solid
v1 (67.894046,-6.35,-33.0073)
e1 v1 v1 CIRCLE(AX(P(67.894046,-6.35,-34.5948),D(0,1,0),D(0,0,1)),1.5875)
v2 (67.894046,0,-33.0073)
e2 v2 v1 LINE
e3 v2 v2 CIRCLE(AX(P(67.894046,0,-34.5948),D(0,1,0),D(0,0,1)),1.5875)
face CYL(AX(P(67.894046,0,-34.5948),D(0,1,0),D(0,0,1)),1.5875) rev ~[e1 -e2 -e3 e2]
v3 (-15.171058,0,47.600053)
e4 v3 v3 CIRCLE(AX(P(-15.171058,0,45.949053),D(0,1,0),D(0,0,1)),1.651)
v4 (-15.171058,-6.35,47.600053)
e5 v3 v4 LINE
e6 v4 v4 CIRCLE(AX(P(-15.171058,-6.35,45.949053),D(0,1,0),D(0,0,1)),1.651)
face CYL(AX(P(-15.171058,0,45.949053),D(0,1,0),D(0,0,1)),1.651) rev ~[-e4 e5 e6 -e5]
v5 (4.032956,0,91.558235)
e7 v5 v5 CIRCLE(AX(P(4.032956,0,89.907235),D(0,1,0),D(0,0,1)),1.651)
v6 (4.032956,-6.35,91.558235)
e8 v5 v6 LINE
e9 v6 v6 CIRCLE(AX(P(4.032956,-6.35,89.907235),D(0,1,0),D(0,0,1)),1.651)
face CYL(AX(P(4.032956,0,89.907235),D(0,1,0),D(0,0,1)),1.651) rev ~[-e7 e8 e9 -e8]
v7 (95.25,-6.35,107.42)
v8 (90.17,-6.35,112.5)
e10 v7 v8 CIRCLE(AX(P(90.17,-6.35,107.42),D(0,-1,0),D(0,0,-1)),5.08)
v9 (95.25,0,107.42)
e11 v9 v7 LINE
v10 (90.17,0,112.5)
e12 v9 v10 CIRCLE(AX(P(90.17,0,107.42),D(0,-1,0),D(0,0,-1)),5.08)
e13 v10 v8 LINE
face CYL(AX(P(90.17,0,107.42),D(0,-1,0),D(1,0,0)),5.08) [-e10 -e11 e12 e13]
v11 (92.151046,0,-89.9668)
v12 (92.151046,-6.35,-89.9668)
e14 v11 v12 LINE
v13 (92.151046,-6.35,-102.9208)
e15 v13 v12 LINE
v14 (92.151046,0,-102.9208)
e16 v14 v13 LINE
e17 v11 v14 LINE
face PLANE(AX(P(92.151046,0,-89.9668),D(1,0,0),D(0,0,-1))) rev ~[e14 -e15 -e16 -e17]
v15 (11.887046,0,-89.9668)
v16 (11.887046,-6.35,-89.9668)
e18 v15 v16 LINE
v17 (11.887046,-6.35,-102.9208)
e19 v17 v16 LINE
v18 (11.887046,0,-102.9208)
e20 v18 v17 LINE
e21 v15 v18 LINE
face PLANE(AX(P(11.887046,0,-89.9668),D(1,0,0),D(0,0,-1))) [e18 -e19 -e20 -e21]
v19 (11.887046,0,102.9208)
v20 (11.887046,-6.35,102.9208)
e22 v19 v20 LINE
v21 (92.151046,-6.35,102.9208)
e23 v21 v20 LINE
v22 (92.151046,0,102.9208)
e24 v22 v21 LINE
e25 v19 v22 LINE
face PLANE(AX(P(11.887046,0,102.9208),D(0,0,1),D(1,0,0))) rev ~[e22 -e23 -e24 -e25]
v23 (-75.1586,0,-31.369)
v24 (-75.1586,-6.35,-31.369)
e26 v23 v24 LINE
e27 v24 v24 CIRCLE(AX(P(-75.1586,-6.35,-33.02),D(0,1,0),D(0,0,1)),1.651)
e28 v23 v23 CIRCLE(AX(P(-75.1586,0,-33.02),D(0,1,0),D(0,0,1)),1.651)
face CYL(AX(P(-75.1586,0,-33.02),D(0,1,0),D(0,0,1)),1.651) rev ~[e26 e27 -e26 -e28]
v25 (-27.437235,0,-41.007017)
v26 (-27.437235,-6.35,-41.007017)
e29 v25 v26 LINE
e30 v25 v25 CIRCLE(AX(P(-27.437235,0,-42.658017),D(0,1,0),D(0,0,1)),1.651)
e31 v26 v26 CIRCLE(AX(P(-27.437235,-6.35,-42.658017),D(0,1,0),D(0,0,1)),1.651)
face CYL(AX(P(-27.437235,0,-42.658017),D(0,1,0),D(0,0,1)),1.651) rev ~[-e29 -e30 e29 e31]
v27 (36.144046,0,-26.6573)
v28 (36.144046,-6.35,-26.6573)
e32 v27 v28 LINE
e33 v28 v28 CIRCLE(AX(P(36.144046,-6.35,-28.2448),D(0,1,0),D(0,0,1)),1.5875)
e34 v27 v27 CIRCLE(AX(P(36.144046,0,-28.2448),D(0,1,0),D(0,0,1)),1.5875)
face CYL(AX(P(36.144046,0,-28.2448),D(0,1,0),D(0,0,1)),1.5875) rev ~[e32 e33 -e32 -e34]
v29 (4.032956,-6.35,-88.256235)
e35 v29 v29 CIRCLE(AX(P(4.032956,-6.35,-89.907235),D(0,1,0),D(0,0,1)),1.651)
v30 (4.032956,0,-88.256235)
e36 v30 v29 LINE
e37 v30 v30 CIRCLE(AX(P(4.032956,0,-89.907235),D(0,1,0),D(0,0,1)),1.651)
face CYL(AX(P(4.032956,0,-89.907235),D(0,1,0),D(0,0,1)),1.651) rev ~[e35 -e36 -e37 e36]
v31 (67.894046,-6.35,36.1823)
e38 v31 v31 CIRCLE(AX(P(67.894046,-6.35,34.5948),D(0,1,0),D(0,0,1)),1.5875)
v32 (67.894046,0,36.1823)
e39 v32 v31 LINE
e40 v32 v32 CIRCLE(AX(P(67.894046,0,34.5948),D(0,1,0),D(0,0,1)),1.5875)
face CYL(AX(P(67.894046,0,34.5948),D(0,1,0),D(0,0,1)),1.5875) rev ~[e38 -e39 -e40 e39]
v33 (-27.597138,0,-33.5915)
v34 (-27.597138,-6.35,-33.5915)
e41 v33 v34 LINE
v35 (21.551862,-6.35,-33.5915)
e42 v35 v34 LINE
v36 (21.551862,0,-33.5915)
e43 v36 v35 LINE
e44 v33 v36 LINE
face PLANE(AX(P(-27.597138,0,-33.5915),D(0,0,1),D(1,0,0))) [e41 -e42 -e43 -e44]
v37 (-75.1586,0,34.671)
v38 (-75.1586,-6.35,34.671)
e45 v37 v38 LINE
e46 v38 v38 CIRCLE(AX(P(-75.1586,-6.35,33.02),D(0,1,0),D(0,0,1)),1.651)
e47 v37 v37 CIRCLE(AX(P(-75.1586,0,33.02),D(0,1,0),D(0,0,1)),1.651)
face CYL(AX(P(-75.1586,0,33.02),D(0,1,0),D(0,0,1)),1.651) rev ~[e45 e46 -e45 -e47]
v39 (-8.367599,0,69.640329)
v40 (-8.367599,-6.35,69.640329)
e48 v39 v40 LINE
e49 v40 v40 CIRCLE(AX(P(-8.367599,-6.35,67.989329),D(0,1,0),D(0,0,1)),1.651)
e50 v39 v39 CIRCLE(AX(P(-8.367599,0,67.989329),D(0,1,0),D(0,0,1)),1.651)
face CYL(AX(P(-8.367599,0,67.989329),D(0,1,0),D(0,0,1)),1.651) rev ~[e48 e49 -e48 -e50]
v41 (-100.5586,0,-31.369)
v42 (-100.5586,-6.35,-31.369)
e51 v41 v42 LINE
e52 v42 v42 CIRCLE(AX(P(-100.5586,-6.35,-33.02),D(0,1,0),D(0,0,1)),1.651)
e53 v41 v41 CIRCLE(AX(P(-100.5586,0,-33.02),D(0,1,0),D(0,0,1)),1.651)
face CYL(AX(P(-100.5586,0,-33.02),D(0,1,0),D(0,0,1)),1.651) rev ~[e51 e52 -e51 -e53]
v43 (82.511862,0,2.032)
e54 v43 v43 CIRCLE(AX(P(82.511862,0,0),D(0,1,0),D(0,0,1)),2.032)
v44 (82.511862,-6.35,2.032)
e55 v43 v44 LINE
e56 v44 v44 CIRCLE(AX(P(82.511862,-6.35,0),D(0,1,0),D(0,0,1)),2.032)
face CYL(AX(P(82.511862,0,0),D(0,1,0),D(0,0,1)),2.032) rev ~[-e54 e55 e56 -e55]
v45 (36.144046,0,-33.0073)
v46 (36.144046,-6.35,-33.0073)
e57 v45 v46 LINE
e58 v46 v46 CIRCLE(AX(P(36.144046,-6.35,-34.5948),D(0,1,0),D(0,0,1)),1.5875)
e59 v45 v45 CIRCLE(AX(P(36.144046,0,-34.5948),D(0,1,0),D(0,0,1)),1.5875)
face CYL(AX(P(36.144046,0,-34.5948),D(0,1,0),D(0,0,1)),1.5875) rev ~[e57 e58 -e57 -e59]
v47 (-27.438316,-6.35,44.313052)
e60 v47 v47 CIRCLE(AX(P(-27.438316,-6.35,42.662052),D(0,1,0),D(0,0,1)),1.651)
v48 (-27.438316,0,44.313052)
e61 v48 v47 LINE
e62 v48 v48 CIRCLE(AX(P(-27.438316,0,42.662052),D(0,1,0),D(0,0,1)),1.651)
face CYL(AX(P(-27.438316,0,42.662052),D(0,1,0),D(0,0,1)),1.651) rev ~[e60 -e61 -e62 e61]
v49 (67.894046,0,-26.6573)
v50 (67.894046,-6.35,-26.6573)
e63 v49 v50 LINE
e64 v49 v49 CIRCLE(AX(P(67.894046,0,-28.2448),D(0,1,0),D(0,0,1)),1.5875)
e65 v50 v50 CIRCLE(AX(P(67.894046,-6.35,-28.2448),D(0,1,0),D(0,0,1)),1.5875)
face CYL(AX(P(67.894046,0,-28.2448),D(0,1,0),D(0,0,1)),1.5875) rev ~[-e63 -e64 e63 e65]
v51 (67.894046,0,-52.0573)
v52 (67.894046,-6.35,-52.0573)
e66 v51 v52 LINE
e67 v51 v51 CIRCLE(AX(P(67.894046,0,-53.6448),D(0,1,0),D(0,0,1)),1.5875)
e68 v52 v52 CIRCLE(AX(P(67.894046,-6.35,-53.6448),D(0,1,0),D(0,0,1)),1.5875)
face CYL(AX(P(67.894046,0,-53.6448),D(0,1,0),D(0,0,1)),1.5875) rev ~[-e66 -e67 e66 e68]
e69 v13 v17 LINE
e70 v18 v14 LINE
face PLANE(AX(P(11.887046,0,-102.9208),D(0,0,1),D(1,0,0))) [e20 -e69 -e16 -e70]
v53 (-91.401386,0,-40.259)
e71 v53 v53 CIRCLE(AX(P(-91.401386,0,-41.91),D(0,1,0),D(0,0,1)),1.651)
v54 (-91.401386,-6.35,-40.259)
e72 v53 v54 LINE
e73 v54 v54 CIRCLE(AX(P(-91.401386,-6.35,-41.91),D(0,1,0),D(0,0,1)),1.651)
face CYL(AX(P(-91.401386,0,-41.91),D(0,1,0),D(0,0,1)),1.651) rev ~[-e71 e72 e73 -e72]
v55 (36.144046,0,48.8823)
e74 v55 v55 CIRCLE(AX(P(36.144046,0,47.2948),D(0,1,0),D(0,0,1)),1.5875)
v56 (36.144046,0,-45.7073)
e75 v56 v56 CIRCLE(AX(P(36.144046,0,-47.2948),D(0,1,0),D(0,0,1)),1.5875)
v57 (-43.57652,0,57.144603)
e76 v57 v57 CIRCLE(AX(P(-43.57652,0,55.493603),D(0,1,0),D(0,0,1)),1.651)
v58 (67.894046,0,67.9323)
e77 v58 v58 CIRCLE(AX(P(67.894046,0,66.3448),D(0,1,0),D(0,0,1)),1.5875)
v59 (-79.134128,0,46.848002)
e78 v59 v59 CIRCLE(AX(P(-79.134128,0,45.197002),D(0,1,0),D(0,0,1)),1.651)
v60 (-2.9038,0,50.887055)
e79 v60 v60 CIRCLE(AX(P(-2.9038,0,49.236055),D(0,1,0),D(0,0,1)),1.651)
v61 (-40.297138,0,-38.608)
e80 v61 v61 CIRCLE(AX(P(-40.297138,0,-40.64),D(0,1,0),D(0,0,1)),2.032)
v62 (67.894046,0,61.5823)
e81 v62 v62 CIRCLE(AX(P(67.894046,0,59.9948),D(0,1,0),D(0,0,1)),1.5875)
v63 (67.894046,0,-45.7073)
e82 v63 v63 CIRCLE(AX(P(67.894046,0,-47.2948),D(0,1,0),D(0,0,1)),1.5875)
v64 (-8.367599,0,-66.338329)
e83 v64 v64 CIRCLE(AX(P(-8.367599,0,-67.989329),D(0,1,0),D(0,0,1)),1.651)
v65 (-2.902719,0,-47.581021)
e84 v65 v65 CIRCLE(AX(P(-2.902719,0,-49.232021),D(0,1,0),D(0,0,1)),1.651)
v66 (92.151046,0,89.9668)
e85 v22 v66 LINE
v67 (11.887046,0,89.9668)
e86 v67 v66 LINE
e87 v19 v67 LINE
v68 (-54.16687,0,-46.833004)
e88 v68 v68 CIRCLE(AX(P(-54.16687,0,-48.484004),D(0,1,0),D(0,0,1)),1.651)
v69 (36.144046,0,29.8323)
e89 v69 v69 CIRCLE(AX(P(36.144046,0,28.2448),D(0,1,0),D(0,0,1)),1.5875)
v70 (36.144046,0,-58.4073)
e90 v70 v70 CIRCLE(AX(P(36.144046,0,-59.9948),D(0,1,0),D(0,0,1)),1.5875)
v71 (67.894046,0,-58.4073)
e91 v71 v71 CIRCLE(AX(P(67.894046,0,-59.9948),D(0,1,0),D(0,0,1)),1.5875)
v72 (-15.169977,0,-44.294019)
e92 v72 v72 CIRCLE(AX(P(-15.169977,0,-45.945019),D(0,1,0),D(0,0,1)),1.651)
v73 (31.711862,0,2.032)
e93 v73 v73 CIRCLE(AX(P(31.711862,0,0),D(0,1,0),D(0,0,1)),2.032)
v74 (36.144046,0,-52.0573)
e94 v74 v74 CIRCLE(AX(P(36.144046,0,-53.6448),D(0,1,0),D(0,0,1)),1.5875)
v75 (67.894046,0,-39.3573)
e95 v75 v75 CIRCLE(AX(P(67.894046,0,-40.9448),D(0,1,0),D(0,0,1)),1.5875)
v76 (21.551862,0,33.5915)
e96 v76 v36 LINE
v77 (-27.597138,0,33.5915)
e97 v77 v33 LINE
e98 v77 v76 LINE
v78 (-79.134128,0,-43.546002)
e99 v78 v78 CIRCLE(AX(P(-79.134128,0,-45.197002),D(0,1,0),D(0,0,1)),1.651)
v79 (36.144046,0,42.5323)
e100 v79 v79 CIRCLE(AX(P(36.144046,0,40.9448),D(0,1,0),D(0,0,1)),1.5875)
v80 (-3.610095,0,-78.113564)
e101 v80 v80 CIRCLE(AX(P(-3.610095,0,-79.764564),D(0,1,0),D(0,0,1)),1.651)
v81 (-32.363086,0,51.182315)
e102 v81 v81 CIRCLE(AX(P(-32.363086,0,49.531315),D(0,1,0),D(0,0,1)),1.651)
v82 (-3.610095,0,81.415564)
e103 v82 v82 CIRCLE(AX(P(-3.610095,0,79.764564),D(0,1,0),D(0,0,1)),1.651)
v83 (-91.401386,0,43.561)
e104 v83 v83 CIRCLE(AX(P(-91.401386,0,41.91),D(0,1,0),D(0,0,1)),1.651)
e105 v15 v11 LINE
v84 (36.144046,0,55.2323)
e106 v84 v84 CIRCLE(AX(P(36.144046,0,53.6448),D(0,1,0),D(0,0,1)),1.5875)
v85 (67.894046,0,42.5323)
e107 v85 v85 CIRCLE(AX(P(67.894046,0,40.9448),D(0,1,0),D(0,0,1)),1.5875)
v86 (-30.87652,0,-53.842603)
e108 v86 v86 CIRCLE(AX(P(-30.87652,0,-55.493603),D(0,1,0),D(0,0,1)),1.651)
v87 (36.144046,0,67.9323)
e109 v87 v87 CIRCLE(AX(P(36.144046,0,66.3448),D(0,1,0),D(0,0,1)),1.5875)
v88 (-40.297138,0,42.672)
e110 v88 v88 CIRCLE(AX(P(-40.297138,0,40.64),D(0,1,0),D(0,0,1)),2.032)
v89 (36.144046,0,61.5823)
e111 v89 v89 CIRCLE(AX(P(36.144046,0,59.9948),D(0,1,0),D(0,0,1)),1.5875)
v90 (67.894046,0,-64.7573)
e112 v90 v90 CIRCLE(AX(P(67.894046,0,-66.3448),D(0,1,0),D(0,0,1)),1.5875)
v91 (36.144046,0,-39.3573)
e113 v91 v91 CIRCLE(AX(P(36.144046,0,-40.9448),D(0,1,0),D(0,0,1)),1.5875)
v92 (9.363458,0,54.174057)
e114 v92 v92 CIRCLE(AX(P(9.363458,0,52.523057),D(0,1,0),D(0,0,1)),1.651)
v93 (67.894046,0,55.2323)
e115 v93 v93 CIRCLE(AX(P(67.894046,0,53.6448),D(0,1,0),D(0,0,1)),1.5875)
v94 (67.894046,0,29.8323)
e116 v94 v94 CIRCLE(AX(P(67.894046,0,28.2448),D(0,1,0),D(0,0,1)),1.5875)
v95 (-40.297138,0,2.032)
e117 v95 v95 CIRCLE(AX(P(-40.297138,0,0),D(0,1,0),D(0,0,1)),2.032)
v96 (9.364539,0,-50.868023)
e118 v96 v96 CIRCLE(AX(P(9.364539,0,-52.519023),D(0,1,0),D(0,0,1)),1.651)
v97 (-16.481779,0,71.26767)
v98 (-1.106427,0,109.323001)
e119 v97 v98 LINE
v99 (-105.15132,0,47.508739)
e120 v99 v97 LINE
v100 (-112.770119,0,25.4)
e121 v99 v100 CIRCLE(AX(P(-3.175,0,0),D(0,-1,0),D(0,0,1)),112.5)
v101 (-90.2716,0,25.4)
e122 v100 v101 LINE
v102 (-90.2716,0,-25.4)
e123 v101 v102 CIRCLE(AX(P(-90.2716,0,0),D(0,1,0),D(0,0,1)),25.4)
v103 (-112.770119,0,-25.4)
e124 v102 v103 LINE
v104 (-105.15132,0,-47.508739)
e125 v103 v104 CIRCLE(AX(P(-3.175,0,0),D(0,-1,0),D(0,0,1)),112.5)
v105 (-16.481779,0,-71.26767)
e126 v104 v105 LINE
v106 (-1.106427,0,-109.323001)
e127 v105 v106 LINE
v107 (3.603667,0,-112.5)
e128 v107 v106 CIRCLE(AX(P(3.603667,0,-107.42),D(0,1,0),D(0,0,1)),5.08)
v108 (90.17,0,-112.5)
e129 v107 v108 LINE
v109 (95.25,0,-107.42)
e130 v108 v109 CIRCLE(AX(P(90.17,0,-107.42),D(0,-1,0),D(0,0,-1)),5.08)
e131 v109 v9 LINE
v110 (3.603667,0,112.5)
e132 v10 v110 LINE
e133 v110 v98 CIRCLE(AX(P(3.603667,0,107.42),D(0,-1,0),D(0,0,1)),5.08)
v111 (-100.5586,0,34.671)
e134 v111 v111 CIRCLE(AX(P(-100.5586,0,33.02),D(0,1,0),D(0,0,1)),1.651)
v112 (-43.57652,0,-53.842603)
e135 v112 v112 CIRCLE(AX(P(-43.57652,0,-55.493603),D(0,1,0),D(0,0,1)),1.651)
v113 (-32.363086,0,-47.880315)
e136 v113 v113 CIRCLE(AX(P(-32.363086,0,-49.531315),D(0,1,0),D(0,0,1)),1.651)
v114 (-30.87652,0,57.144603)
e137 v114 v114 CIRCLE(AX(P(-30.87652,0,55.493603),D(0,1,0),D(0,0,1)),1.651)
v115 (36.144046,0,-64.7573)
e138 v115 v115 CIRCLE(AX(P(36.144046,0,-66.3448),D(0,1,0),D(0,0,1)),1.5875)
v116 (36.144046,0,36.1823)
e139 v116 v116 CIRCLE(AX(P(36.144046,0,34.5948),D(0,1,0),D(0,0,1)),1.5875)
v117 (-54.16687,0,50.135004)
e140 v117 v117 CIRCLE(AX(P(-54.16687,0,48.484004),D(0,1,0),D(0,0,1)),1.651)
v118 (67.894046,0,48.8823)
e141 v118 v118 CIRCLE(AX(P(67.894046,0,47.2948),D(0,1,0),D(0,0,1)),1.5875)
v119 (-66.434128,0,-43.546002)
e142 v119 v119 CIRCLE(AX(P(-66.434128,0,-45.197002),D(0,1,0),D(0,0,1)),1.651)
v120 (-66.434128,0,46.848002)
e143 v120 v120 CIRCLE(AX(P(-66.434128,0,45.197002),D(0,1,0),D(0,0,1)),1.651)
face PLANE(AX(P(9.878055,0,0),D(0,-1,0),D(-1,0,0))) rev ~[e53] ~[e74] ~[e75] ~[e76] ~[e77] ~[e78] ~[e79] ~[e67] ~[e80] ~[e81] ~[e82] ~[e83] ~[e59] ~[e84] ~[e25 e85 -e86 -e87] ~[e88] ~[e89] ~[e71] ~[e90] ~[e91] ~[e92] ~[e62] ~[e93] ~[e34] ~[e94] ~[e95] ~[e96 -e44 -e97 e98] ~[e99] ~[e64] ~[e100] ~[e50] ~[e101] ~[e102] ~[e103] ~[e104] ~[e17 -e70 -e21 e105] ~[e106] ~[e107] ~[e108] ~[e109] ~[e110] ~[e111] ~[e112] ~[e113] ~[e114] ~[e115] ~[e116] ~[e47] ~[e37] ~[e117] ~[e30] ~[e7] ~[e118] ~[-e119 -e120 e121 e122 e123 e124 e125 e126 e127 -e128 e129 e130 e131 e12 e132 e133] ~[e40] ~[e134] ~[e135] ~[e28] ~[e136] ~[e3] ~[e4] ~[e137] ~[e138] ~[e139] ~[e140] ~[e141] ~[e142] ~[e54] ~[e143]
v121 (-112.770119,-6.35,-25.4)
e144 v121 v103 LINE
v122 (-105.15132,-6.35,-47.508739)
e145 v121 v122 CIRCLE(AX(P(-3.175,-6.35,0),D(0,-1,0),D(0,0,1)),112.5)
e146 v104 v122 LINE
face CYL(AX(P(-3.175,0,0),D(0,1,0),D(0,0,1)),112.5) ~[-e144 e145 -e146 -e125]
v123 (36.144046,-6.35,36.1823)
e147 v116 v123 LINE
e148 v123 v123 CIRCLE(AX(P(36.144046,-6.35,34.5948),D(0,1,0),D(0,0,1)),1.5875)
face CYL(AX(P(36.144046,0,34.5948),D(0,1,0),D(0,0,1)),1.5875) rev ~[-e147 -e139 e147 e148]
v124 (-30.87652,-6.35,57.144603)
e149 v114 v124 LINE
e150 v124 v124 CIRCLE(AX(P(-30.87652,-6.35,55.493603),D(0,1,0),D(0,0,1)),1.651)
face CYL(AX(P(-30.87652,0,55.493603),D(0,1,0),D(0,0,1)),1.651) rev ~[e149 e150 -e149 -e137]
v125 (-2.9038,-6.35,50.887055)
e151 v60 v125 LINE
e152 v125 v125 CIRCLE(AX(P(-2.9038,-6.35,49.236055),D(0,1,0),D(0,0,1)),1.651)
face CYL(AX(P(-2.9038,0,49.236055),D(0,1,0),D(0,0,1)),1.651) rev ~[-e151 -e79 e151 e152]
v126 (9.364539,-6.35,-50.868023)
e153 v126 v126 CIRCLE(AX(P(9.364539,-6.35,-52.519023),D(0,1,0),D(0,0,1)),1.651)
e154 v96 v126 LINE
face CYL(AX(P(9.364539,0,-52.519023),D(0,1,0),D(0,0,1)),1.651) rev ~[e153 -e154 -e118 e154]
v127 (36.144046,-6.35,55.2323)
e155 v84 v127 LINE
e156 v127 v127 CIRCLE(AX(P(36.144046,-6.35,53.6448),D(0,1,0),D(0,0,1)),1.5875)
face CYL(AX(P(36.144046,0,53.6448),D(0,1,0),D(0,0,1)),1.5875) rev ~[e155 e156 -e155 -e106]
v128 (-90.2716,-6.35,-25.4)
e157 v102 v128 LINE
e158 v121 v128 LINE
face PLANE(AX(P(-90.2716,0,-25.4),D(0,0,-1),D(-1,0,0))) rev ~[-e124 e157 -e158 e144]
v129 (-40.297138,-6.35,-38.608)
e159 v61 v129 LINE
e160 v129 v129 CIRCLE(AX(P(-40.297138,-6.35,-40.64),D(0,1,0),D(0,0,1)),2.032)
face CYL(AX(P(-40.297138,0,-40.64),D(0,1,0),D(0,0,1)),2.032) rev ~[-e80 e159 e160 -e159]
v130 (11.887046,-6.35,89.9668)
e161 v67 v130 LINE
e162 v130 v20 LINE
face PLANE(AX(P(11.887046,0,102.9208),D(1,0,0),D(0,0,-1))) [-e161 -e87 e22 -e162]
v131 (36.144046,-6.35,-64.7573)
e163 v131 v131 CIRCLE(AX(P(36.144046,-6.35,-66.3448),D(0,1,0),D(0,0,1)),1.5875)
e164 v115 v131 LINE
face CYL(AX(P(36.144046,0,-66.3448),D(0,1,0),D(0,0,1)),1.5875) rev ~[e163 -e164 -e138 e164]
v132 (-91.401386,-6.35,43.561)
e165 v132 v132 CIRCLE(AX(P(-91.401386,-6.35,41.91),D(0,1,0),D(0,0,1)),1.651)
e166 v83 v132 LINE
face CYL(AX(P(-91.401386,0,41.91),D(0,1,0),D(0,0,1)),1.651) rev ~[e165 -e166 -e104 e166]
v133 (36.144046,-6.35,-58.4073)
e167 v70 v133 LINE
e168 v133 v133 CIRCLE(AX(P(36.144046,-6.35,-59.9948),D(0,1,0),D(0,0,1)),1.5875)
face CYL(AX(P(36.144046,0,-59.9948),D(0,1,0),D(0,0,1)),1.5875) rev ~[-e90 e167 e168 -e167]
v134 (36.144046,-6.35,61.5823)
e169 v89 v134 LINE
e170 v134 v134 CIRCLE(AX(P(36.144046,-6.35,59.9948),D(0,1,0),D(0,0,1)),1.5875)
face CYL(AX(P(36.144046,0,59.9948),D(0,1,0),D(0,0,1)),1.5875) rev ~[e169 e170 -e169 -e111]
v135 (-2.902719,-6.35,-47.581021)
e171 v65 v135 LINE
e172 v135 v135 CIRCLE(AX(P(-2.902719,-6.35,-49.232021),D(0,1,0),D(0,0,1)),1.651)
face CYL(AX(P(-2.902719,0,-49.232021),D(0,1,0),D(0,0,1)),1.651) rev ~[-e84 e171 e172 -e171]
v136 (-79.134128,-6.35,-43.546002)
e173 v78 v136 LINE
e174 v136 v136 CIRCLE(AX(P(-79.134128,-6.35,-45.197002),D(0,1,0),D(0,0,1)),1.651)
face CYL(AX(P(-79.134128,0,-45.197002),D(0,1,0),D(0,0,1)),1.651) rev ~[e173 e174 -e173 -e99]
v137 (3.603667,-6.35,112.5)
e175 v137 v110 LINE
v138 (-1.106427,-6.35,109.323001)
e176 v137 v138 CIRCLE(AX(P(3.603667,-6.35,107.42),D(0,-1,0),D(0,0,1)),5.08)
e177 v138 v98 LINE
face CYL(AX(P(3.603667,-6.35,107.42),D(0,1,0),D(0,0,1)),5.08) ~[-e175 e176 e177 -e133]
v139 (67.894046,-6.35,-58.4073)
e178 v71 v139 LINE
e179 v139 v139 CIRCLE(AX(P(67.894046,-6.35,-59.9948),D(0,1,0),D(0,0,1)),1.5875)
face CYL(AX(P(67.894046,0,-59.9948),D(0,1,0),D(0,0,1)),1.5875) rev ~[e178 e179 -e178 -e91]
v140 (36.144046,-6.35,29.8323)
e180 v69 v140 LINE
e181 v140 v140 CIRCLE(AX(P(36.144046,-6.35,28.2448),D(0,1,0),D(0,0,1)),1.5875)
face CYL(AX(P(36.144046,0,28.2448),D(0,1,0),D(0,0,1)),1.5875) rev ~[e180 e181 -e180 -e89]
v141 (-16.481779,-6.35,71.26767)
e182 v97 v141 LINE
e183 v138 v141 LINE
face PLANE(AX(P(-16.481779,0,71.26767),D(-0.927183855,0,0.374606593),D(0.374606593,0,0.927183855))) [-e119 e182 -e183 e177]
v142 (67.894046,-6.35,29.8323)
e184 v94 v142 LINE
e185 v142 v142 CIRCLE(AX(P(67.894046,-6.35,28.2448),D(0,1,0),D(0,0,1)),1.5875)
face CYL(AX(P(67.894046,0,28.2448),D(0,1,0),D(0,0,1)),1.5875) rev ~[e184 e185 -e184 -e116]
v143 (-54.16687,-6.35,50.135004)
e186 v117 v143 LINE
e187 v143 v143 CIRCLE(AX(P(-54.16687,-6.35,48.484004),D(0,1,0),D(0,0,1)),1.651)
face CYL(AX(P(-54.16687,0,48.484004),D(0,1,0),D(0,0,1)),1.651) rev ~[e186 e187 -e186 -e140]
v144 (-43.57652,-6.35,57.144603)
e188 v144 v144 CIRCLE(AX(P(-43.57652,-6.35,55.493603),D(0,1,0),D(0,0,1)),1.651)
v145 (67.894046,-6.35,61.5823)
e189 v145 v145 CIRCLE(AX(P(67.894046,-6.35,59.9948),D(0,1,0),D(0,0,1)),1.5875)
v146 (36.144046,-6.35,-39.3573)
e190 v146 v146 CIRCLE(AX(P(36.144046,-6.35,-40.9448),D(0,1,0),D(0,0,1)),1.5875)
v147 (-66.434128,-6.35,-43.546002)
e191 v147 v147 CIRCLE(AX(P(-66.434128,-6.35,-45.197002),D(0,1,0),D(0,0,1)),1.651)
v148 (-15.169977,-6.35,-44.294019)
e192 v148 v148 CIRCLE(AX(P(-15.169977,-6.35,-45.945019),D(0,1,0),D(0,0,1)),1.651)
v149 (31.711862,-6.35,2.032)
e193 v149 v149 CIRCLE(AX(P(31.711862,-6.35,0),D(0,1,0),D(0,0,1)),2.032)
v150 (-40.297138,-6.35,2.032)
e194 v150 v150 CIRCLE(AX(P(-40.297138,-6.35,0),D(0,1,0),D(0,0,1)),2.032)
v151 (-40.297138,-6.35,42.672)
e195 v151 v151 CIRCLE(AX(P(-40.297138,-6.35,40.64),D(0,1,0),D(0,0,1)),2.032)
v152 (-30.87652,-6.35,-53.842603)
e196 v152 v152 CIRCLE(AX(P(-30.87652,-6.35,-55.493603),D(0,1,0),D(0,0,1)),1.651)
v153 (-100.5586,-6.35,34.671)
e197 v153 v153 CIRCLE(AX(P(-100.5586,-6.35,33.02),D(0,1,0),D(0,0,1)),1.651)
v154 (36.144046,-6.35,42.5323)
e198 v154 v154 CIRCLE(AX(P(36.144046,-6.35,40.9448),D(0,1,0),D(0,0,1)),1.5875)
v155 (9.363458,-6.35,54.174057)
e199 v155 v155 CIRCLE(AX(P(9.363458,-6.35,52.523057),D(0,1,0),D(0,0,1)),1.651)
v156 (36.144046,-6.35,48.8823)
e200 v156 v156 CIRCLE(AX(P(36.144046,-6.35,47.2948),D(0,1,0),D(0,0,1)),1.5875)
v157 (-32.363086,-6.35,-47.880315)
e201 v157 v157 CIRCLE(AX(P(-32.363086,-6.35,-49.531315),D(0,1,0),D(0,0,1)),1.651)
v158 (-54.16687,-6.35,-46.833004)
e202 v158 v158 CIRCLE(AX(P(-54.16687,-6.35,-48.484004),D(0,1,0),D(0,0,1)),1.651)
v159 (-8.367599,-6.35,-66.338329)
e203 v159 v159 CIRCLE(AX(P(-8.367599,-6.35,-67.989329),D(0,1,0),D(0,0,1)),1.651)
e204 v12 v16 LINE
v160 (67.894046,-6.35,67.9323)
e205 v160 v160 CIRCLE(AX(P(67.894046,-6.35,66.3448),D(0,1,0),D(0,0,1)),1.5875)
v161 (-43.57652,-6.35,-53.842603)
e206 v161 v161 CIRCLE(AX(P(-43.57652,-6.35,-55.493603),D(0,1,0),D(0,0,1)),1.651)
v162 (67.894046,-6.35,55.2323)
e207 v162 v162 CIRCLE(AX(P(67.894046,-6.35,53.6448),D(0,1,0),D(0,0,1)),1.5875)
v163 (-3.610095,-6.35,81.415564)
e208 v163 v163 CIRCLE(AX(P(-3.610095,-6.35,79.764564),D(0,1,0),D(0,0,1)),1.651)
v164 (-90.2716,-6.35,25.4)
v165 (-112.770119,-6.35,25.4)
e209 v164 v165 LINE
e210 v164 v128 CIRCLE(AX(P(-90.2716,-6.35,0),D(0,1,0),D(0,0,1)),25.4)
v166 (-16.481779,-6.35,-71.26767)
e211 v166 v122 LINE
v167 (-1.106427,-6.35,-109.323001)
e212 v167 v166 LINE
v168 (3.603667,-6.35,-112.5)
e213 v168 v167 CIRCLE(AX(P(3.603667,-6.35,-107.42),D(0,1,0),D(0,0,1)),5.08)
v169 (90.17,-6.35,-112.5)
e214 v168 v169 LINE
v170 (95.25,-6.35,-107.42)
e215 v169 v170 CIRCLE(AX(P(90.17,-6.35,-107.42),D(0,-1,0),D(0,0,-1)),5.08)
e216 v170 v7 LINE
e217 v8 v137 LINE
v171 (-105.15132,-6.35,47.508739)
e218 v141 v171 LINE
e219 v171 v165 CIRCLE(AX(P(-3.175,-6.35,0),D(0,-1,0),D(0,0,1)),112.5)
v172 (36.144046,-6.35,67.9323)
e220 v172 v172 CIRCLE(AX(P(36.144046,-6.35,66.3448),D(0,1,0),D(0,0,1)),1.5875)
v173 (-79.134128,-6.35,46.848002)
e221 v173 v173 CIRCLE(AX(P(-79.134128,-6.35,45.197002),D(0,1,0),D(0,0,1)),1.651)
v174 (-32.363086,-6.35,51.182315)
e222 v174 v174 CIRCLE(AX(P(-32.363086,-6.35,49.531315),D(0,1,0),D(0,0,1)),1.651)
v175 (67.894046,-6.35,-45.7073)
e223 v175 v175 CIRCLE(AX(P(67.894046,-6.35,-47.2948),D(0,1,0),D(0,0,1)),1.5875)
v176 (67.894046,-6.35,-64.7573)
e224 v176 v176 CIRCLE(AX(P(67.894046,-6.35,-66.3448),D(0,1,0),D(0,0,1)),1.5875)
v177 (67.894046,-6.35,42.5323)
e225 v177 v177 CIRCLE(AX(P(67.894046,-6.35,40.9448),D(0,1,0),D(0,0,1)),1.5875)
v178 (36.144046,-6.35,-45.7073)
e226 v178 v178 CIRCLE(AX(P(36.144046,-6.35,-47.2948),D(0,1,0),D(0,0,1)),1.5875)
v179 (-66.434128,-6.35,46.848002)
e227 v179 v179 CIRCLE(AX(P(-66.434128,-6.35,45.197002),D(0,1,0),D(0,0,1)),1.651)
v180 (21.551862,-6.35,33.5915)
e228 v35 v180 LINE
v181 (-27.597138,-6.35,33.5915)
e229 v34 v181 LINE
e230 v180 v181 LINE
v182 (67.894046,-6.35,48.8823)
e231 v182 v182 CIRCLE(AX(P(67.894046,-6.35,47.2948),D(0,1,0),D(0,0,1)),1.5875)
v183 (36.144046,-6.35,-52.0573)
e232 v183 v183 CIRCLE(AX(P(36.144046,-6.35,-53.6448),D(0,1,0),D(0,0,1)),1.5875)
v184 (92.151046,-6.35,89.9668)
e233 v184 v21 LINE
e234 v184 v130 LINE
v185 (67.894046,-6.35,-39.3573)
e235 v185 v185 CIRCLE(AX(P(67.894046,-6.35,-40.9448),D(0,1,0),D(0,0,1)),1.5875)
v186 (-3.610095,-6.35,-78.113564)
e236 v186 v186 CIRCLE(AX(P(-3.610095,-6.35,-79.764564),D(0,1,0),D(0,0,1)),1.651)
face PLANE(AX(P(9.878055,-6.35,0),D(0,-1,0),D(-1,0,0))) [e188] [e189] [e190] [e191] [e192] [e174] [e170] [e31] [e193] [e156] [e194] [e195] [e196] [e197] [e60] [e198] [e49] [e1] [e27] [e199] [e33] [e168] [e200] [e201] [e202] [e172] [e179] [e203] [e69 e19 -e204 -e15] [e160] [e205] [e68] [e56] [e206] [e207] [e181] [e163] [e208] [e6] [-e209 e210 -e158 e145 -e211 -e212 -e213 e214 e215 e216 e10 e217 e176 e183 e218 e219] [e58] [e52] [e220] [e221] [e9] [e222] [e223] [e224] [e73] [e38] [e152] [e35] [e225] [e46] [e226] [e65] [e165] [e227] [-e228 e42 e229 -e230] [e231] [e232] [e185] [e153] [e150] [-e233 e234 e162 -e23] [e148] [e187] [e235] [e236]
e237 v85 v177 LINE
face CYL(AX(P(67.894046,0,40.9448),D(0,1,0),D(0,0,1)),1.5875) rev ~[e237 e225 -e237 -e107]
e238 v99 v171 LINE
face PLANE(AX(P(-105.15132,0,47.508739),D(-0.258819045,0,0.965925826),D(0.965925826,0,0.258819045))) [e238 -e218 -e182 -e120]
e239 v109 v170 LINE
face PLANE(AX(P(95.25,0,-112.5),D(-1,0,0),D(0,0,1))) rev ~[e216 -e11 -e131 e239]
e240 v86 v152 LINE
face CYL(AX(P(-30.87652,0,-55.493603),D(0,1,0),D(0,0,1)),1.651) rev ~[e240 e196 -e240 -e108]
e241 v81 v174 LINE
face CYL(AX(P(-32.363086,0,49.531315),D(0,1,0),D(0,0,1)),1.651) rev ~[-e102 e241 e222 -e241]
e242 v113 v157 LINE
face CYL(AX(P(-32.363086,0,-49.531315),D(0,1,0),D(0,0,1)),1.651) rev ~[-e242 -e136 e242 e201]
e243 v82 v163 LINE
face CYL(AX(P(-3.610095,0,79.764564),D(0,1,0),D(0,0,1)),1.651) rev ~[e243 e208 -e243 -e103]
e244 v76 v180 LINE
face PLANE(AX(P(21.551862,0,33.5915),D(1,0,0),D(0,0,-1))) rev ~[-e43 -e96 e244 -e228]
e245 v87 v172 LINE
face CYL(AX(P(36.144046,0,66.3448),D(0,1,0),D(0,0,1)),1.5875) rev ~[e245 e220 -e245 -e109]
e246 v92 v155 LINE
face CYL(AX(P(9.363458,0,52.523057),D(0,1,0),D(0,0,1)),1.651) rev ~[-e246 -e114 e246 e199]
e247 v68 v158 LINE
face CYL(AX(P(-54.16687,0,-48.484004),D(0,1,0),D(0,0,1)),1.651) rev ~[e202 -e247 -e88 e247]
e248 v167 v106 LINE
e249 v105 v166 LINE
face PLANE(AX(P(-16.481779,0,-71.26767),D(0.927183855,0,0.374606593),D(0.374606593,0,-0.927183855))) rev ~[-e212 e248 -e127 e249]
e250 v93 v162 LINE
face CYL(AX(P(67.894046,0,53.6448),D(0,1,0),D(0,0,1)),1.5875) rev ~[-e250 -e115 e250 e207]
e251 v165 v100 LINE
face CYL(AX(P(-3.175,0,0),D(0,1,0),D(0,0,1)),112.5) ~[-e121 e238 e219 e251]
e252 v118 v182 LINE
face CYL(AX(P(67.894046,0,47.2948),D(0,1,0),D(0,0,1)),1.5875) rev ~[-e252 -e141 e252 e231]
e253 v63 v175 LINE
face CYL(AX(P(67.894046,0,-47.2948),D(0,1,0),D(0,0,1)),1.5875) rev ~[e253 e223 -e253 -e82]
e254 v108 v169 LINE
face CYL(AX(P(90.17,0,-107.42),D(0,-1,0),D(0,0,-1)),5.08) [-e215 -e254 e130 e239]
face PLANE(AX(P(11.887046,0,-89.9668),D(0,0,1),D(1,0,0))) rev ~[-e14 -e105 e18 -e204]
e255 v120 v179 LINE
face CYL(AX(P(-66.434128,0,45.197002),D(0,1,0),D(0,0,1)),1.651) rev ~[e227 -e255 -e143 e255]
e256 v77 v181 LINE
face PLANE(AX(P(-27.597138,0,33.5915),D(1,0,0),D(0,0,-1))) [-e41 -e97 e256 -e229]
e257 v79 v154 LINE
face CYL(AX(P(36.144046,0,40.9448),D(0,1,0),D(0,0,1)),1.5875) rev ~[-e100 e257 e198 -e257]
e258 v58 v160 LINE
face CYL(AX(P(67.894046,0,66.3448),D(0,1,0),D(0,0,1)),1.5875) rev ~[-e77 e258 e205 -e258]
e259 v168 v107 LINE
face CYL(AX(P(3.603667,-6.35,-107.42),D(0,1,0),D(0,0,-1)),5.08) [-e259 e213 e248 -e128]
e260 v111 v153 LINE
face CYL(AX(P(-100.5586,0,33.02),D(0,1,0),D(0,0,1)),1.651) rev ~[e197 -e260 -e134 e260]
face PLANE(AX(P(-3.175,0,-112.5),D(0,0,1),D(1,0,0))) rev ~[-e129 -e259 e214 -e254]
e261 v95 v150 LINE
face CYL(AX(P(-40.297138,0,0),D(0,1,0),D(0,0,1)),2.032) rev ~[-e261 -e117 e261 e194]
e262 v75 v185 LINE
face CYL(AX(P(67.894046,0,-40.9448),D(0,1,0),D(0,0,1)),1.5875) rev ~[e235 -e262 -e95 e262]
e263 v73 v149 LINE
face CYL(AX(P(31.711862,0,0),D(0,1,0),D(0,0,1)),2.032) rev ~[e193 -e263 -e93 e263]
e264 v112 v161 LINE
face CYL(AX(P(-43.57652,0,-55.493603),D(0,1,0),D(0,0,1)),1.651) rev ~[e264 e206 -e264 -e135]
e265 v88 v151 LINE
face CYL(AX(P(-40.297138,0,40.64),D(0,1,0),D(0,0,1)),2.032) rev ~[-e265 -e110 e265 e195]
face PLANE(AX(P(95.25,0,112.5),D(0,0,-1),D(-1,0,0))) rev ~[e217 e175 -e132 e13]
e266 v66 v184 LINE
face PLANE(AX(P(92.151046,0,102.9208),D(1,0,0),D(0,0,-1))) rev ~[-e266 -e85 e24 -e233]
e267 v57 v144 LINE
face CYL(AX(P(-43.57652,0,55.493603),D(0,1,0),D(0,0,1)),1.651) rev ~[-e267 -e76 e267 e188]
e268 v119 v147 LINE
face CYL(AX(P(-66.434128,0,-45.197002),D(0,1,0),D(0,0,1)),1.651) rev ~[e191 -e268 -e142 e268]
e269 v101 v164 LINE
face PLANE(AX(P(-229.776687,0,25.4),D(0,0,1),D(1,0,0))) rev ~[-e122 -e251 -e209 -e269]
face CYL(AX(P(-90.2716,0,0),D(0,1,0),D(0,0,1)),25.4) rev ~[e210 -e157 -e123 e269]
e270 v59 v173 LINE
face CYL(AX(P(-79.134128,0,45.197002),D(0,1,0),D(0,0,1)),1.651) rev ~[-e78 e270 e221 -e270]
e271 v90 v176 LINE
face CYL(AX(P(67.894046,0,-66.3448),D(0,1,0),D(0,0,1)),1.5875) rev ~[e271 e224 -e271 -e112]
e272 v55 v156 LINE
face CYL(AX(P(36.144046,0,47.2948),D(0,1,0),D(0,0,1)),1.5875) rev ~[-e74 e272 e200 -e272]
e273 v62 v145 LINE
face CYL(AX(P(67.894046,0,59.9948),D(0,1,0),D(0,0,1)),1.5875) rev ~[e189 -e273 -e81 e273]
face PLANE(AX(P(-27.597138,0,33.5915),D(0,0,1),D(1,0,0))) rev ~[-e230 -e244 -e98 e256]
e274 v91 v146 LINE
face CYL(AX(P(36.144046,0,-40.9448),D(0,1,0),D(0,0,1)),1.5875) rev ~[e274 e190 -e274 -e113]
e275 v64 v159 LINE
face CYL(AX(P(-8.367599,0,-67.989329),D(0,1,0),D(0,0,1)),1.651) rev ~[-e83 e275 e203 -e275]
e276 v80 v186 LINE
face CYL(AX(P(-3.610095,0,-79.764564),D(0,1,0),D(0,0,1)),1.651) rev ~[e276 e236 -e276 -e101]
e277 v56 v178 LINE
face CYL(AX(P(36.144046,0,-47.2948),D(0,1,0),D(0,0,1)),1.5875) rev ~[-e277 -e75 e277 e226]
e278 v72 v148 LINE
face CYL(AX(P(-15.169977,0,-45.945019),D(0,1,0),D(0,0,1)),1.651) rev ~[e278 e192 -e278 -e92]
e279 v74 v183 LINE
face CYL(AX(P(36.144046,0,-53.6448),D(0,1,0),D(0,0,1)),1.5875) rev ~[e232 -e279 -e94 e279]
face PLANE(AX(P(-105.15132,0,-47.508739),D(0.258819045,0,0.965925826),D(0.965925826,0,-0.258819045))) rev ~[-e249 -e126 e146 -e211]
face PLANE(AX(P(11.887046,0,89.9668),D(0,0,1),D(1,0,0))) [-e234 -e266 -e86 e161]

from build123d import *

# Parameters (mm, degrees)
BOSS_EXTRUDE1_DEPTH = 6.35
SKETCH2_R           = 1.5875
SKETCH2_W           = 80.264
SKETCH2_H           = 12.954
CUT_EXTRUDE1_DEPTH  = 162.484606465
SKETCH7_R           = 2.032
SKETCH7_W           = 49.149
SKETCH7_H           = 67.183
CUT_EXTRUDE4_DEPTH  = 162.484606465
SKETCH8_R           = 1.651
CUT_EXTRUDE5_DEPTH  = 162.484606465
CUT_EXTRUDE6_DEPTH  = 160.416662013
FILLET1_R           = 5.08
FILLET2_R           = 5.08
SKETCH10_R          = 1.651
CUT_EXTRUDE7_DEPTH  = 160.416662013


with BuildPart() as part:
    # Sketch1 → Boss-Extrude1 (new body)
    with BuildSketch(Plane(origin=(0, 0, 0), x_dir=(1, 0, 0), z_dir=(0, 1, 0))):
        with BuildLine():
            Line((-3.175, 112.5), (95.25, 112.5))
            Line((95.25, 112.5), (95.25, -112.5))
            Line((95.25, -112.5), (-3.175, -112.5))
            ThreePointArc((-3.175, -112.5), (-115.675, 0), (-3.175, 112.5))
        make_face()
    extrude(amount=-BOSS_EXTRUDE1_DEPTH)

    # Sketch2 → Cut-Extrude1 (cut, through all)
    with BuildSketch(Plane(origin=(0, 0, 0), x_dir=(1, 0, 0), z_dir=(0, 1, 0))):
        with Locations(Location((36.144045702, -66.3448, 0), (0, 0, 270))):
            Circle(SKETCH2_R)
        with Locations(Location((36.144045702, -59.9948, 0), (0, 0, 270))):
            Circle(SKETCH2_R)
        with Locations(Location((36.144045702, -53.6448, 0), (0, 0, 270))):
            Circle(SKETCH2_R)
        with Locations(Location((36.144045702, -47.2948, 0), (0, 0, 270))):
            Circle(SKETCH2_R)
        with Locations(Location((36.144045702, -40.9448, 0), (0, 0, 270))):
            Circle(SKETCH2_R)
        with Locations(Location((36.144045702, -34.5948, 0), (0, 0, 270))):
            Circle(SKETCH2_R)
        with Locations(Location((36.144045702, -28.2448, 0), (0, 0, 270))):
            Circle(SKETCH2_R)
        with Locations(Location((67.894045702, -66.3448, 0), (0, 0, 270))):
            Circle(SKETCH2_R)
        with Locations(Location((67.894045702, -59.9948, 0), (0, 0, 270))):
            Circle(SKETCH2_R)
        with Locations(Location((67.894045702, -53.6448, 0), (0, 0, 270))):
            Circle(SKETCH2_R)
        with Locations(Location((67.894045702, -47.2948, 0), (0, 0, 270))):
            Circle(SKETCH2_R)
        with Locations(Location((67.894045702, -40.9448, 0), (0, 0, 270))):
            Circle(SKETCH2_R)
        with Locations(Location((67.894045702, -34.5948, 0), (0, 0, 270))):
            Circle(SKETCH2_R)
        with Locations(Location((67.894045702, -28.2448, 0), (0, 0, 270))):
            Circle(SKETCH2_R)
        with Locations(Location((36.144045702, 66.3448, 0), (0, 0, 270))):
            Circle(SKETCH2_R)
        with Locations(Location((36.144045702, 59.9948, 0), (0, 0, 270))):
            Circle(SKETCH2_R)
        with Locations(Location((36.144045702, 53.6448, 0), (0, 0, 270))):
            Circle(SKETCH2_R)
        with Locations(Location((36.144045702, 47.2948, 0), (0, 0, 270))):
            Circle(SKETCH2_R)
        with Locations(Location((36.144045702, 40.9448, 0), (0, 0, 270))):
            Circle(SKETCH2_R)
        with Locations(Location((36.144045702, 34.5948, 0), (0, 0, 270))):
            Circle(SKETCH2_R)
        with Locations(Location((36.144045702, 28.2448, 0), (0, 0, 270))):
            Circle(SKETCH2_R)
        with Locations(Location((67.894045702, 66.3448, 0), (0, 0, 270))):
            Circle(SKETCH2_R)
        with Locations(Location((67.894045702, 59.9948, 0), (0, 0, 270))):
            Circle(SKETCH2_R)
        with Locations(Location((67.894045702, 53.6448, 0), (0, 0, 270))):
            Circle(SKETCH2_R)
        with Locations(Location((67.894045702, 47.2948, 0), (0, 0, 270))):
            Circle(SKETCH2_R)
        with Locations(Location((67.894045702, 40.9448, 0), (0, 0, 270))):
            Circle(SKETCH2_R)
        with Locations(Location((67.894045702, 34.5948, 0), (0, 0, 270))):
            Circle(SKETCH2_R)
        with Locations(Location((67.894045702, 28.2448, 0), (0, 0, 270))):
            Circle(SKETCH2_R)
        with Locations((52.019045702, -96.4438)):
            Rectangle(SKETCH2_W, SKETCH2_H)
        with Locations((52.019045702, 96.4438)):
            Rectangle(SKETCH2_W, SKETCH2_H)
    extrude(amount=-CUT_EXTRUDE1_DEPTH, mode=Mode.SUBTRACT)

    # Sketch7 → Cut-Extrude4 (cut, through all)
    with BuildSketch(Plane(origin=(0, 0, 0), x_dir=(1, 0, 0), z_dir=(0, 1, 0))):
        with Locations(Location((-40.297137944, 0, 0), (0, 0, 270))):
            Circle(SKETCH7_R)
        with Locations(Location((31.711862056, 0, 0), (0, 0, 270))):
            Circle(SKETCH7_R)
        with Locations(Location((82.511862056, 0, 0), (0, 0, 270))):
            Circle(SKETCH7_R)
        with Locations(Location((-40.297137944, 40.64, 0), (0, 0, 270))):
            Circle(SKETCH7_R)
        with Locations(Location((-40.297137944, -40.64, 0), (0, 0, 270))):
            Circle(SKETCH7_R)
        with Locations((-3.022637944, 0)):
            Rectangle(SKETCH7_W, SKETCH7_H)
    extrude(amount=-CUT_EXTRUDE4_DEPTH, mode=Mode.SUBTRACT)

    # Sketch8 → Cut-Extrude5 (cut, through all)
    with BuildSketch(Plane(origin=(0, 0, 0), x_dir=(1, 0, 0), z_dir=(0, 1, 0))):
        with Locations(Location((-100.5586, 33.02, 0), (0, 0, 270))):
            Circle(SKETCH8_R)
        with Locations(Location((-100.5586, -33.02, 0), (0, 0, 270))):
            Circle(SKETCH8_R)
        with Locations(Location((-75.1586, 33.02, 0), (0, 0, 270))):
            Circle(SKETCH8_R)
        with Locations(Location((-75.1586, -33.02, 0), (0, 0, 270))):
            Circle(SKETCH8_R)
        with BuildLine():
            Line((-90.2716, 25.4), (-229.776686608, 25.4))
            Line((-229.776686608, 25.4), (-229.776686608, -25.4))
            Line((-229.776686608, -25.4), (-90.2716, -25.4))
            ThreePointArc((-90.2716, -25.4), (-64.8716, 0), (-90.2716, 25.4))
        make_face()
    extrude(amount=-CUT_EXTRUDE5_DEPTH, mode=Mode.SUBTRACT)

    # Sketch9 → Cut-Extrude6 (cut, through all)
    with BuildSketch(Plane(origin=(0, 0, 0), x_dir=(1, 0, 0), z_dir=(0, 1, 0))):
        Polygon((-105.15131959, 47.508738596), (-16.481779133, 71.267670354), (15.119014667, 149.482379647), (-15.990379699, 149.482379647), (-132.083987526, 149.482379647), (-132.083987526, 47.508738596), align=None)
        Polygon((-105.15131959, -47.508738596), (-16.481779133, -71.267670354), (15.119014667, -149.482379647), (-132.083987526, -149.482379647), (-132.083987526, -47.508738596), align=None)
    extrude(amount=-CUT_EXTRUDE6_DEPTH, mode=Mode.SUBTRACT)

    # Fillet1
    fillet1_edges = [part.edges().sort_by_distance(p)[0] for p in [
        (0.177163396, -3.175, -112.5),
    ]]
    fillet(fillet1_edges, radius=FILLET1_R)

    # Fillet2
    fillet2_edges = [part.edges().sort_by_distance(p)[0] for p in [
        (0.177163396, -3.175, 112.5),
        (95.25, -3.175, -112.5),
        (95.25, -3.175, 112.5),
    ]]
    fillet(fillet2_edges, radius=FILLET2_R)

    # Sketch10 → Cut-Extrude7 (cut, through all)
    with BuildSketch(Plane(origin=(0, 0, 0), x_dir=(1, 0, 0), z_dir=(0, 1, 0))):
        with Locations(Location((-91.401386068, 41.91, 0), (0, 0, 270))):
            Circle(SKETCH10_R)
        with Locations(Location((-79.134128074, 45.197001873, 0), (0, 0, 270))):
            Circle(SKETCH10_R)
        with Locations(Location((-66.434128074, 45.197001873, 0), (0, 0, 270))):
            Circle(SKETCH10_R)
        with Locations(Location((-54.16687008, 48.484003746, 0), (0, 0, 270))):
            Circle(SKETCH10_R)
        with Locations(Location((-43.57652014, 55.493603459, 0), (0, 0, 270))):
            Circle(SKETCH10_R)
        with Locations(Location((-30.87652014, 55.493603459, 0), (0, 0, 270))):
            Circle(SKETCH10_R)
        with Locations(Location((-32.363085711, 49.531314612, 0), (0, 0, 270))):
            Circle(SKETCH10_R)
        with Locations(Location((-27.437235207, 42.658017348, 0), (0, 0, 270))):
            Circle(SKETCH10_R)
        with Locations(Location((-15.169977213, 45.94501922, 0), (0, 0, 270))):
            Circle(SKETCH10_R)
        with Locations(Location((-2.902719219, 49.232021093, 0), (0, 0, 270))):
            Circle(SKETCH10_R)
        with Locations(Location((9.364538775, 52.519022966, 0), (0, 0, 270))):
            Circle(SKETCH10_R)
        with Locations(Location((-8.367598507, 67.98932858, 0), (0, 0, 270))):
            Circle(SKETCH10_R)
        with Locations(Location((-3.61009477, 79.764563533, 0), (0, 0, 270))):
            Circle(SKETCH10_R)
        with Locations(Location((4.032956024, 89.907234511, 0), (0, 0, 270))):
            Circle(SKETCH10_R)
        with Locations(Location((-91.401386068, -41.91, 0), (0, 0, 270))):
            Circle(SKETCH10_R)
        with Locations(Location((-79.134128074, -45.197001873, 0), (0, 0, 270))):
            Circle(SKETCH10_R)
        with Locations(Location((-66.434128074, -45.197001873, 0), (0, 0, 270))):
            Circle(SKETCH10_R)
        with Locations(Location((-54.16687008, -48.484003746, 0), (0, 0, 270))):
            Circle(SKETCH10_R)
        with Locations(Location((-43.57652014, -55.493603459, 0), (0, 0, 270))):
            Circle(SKETCH10_R)
        with Locations(Location((-30.87652014, -55.493603459, 0), (0, 0, 270))):
            Circle(SKETCH10_R)
        with Locations(Location((-32.363085711, -49.531314612, 0), (0, 0, 270))):
            Circle(SKETCH10_R)
        with Locations(Location((-27.438316181, -42.662051597, 0), (0, 0, 270))):
            Circle(SKETCH10_R)
        with Locations(Location((-15.171058187, -45.94905347, 0), (0, 0, 270))):
            Circle(SKETCH10_R)
        with Locations(Location((-2.903800193, -49.236055343, 0), (0, 0, 270))):
            Circle(SKETCH10_R)
        with Locations(Location((9.363457801, -52.523057216, 0), (0, 0, 270))):
            Circle(SKETCH10_R)
        with Locations(Location((-8.367598507, -67.98932858, 0), (0, 0, 270))):
            Circle(SKETCH10_R)
        with Locations(Location((-3.61009477, -79.764563533, 0), (0, 0, 270))):
            Circle(SKETCH10_R)
        with Locations(Location((4.032956024, -89.907234511, 0), (0, 0, 270))):
            Circle(SKETCH10_R)
    extrude(amount=-CUT_EXTRUDE7_DEPTH, mode=Mode.SUBTRACT)


solid = part.part
